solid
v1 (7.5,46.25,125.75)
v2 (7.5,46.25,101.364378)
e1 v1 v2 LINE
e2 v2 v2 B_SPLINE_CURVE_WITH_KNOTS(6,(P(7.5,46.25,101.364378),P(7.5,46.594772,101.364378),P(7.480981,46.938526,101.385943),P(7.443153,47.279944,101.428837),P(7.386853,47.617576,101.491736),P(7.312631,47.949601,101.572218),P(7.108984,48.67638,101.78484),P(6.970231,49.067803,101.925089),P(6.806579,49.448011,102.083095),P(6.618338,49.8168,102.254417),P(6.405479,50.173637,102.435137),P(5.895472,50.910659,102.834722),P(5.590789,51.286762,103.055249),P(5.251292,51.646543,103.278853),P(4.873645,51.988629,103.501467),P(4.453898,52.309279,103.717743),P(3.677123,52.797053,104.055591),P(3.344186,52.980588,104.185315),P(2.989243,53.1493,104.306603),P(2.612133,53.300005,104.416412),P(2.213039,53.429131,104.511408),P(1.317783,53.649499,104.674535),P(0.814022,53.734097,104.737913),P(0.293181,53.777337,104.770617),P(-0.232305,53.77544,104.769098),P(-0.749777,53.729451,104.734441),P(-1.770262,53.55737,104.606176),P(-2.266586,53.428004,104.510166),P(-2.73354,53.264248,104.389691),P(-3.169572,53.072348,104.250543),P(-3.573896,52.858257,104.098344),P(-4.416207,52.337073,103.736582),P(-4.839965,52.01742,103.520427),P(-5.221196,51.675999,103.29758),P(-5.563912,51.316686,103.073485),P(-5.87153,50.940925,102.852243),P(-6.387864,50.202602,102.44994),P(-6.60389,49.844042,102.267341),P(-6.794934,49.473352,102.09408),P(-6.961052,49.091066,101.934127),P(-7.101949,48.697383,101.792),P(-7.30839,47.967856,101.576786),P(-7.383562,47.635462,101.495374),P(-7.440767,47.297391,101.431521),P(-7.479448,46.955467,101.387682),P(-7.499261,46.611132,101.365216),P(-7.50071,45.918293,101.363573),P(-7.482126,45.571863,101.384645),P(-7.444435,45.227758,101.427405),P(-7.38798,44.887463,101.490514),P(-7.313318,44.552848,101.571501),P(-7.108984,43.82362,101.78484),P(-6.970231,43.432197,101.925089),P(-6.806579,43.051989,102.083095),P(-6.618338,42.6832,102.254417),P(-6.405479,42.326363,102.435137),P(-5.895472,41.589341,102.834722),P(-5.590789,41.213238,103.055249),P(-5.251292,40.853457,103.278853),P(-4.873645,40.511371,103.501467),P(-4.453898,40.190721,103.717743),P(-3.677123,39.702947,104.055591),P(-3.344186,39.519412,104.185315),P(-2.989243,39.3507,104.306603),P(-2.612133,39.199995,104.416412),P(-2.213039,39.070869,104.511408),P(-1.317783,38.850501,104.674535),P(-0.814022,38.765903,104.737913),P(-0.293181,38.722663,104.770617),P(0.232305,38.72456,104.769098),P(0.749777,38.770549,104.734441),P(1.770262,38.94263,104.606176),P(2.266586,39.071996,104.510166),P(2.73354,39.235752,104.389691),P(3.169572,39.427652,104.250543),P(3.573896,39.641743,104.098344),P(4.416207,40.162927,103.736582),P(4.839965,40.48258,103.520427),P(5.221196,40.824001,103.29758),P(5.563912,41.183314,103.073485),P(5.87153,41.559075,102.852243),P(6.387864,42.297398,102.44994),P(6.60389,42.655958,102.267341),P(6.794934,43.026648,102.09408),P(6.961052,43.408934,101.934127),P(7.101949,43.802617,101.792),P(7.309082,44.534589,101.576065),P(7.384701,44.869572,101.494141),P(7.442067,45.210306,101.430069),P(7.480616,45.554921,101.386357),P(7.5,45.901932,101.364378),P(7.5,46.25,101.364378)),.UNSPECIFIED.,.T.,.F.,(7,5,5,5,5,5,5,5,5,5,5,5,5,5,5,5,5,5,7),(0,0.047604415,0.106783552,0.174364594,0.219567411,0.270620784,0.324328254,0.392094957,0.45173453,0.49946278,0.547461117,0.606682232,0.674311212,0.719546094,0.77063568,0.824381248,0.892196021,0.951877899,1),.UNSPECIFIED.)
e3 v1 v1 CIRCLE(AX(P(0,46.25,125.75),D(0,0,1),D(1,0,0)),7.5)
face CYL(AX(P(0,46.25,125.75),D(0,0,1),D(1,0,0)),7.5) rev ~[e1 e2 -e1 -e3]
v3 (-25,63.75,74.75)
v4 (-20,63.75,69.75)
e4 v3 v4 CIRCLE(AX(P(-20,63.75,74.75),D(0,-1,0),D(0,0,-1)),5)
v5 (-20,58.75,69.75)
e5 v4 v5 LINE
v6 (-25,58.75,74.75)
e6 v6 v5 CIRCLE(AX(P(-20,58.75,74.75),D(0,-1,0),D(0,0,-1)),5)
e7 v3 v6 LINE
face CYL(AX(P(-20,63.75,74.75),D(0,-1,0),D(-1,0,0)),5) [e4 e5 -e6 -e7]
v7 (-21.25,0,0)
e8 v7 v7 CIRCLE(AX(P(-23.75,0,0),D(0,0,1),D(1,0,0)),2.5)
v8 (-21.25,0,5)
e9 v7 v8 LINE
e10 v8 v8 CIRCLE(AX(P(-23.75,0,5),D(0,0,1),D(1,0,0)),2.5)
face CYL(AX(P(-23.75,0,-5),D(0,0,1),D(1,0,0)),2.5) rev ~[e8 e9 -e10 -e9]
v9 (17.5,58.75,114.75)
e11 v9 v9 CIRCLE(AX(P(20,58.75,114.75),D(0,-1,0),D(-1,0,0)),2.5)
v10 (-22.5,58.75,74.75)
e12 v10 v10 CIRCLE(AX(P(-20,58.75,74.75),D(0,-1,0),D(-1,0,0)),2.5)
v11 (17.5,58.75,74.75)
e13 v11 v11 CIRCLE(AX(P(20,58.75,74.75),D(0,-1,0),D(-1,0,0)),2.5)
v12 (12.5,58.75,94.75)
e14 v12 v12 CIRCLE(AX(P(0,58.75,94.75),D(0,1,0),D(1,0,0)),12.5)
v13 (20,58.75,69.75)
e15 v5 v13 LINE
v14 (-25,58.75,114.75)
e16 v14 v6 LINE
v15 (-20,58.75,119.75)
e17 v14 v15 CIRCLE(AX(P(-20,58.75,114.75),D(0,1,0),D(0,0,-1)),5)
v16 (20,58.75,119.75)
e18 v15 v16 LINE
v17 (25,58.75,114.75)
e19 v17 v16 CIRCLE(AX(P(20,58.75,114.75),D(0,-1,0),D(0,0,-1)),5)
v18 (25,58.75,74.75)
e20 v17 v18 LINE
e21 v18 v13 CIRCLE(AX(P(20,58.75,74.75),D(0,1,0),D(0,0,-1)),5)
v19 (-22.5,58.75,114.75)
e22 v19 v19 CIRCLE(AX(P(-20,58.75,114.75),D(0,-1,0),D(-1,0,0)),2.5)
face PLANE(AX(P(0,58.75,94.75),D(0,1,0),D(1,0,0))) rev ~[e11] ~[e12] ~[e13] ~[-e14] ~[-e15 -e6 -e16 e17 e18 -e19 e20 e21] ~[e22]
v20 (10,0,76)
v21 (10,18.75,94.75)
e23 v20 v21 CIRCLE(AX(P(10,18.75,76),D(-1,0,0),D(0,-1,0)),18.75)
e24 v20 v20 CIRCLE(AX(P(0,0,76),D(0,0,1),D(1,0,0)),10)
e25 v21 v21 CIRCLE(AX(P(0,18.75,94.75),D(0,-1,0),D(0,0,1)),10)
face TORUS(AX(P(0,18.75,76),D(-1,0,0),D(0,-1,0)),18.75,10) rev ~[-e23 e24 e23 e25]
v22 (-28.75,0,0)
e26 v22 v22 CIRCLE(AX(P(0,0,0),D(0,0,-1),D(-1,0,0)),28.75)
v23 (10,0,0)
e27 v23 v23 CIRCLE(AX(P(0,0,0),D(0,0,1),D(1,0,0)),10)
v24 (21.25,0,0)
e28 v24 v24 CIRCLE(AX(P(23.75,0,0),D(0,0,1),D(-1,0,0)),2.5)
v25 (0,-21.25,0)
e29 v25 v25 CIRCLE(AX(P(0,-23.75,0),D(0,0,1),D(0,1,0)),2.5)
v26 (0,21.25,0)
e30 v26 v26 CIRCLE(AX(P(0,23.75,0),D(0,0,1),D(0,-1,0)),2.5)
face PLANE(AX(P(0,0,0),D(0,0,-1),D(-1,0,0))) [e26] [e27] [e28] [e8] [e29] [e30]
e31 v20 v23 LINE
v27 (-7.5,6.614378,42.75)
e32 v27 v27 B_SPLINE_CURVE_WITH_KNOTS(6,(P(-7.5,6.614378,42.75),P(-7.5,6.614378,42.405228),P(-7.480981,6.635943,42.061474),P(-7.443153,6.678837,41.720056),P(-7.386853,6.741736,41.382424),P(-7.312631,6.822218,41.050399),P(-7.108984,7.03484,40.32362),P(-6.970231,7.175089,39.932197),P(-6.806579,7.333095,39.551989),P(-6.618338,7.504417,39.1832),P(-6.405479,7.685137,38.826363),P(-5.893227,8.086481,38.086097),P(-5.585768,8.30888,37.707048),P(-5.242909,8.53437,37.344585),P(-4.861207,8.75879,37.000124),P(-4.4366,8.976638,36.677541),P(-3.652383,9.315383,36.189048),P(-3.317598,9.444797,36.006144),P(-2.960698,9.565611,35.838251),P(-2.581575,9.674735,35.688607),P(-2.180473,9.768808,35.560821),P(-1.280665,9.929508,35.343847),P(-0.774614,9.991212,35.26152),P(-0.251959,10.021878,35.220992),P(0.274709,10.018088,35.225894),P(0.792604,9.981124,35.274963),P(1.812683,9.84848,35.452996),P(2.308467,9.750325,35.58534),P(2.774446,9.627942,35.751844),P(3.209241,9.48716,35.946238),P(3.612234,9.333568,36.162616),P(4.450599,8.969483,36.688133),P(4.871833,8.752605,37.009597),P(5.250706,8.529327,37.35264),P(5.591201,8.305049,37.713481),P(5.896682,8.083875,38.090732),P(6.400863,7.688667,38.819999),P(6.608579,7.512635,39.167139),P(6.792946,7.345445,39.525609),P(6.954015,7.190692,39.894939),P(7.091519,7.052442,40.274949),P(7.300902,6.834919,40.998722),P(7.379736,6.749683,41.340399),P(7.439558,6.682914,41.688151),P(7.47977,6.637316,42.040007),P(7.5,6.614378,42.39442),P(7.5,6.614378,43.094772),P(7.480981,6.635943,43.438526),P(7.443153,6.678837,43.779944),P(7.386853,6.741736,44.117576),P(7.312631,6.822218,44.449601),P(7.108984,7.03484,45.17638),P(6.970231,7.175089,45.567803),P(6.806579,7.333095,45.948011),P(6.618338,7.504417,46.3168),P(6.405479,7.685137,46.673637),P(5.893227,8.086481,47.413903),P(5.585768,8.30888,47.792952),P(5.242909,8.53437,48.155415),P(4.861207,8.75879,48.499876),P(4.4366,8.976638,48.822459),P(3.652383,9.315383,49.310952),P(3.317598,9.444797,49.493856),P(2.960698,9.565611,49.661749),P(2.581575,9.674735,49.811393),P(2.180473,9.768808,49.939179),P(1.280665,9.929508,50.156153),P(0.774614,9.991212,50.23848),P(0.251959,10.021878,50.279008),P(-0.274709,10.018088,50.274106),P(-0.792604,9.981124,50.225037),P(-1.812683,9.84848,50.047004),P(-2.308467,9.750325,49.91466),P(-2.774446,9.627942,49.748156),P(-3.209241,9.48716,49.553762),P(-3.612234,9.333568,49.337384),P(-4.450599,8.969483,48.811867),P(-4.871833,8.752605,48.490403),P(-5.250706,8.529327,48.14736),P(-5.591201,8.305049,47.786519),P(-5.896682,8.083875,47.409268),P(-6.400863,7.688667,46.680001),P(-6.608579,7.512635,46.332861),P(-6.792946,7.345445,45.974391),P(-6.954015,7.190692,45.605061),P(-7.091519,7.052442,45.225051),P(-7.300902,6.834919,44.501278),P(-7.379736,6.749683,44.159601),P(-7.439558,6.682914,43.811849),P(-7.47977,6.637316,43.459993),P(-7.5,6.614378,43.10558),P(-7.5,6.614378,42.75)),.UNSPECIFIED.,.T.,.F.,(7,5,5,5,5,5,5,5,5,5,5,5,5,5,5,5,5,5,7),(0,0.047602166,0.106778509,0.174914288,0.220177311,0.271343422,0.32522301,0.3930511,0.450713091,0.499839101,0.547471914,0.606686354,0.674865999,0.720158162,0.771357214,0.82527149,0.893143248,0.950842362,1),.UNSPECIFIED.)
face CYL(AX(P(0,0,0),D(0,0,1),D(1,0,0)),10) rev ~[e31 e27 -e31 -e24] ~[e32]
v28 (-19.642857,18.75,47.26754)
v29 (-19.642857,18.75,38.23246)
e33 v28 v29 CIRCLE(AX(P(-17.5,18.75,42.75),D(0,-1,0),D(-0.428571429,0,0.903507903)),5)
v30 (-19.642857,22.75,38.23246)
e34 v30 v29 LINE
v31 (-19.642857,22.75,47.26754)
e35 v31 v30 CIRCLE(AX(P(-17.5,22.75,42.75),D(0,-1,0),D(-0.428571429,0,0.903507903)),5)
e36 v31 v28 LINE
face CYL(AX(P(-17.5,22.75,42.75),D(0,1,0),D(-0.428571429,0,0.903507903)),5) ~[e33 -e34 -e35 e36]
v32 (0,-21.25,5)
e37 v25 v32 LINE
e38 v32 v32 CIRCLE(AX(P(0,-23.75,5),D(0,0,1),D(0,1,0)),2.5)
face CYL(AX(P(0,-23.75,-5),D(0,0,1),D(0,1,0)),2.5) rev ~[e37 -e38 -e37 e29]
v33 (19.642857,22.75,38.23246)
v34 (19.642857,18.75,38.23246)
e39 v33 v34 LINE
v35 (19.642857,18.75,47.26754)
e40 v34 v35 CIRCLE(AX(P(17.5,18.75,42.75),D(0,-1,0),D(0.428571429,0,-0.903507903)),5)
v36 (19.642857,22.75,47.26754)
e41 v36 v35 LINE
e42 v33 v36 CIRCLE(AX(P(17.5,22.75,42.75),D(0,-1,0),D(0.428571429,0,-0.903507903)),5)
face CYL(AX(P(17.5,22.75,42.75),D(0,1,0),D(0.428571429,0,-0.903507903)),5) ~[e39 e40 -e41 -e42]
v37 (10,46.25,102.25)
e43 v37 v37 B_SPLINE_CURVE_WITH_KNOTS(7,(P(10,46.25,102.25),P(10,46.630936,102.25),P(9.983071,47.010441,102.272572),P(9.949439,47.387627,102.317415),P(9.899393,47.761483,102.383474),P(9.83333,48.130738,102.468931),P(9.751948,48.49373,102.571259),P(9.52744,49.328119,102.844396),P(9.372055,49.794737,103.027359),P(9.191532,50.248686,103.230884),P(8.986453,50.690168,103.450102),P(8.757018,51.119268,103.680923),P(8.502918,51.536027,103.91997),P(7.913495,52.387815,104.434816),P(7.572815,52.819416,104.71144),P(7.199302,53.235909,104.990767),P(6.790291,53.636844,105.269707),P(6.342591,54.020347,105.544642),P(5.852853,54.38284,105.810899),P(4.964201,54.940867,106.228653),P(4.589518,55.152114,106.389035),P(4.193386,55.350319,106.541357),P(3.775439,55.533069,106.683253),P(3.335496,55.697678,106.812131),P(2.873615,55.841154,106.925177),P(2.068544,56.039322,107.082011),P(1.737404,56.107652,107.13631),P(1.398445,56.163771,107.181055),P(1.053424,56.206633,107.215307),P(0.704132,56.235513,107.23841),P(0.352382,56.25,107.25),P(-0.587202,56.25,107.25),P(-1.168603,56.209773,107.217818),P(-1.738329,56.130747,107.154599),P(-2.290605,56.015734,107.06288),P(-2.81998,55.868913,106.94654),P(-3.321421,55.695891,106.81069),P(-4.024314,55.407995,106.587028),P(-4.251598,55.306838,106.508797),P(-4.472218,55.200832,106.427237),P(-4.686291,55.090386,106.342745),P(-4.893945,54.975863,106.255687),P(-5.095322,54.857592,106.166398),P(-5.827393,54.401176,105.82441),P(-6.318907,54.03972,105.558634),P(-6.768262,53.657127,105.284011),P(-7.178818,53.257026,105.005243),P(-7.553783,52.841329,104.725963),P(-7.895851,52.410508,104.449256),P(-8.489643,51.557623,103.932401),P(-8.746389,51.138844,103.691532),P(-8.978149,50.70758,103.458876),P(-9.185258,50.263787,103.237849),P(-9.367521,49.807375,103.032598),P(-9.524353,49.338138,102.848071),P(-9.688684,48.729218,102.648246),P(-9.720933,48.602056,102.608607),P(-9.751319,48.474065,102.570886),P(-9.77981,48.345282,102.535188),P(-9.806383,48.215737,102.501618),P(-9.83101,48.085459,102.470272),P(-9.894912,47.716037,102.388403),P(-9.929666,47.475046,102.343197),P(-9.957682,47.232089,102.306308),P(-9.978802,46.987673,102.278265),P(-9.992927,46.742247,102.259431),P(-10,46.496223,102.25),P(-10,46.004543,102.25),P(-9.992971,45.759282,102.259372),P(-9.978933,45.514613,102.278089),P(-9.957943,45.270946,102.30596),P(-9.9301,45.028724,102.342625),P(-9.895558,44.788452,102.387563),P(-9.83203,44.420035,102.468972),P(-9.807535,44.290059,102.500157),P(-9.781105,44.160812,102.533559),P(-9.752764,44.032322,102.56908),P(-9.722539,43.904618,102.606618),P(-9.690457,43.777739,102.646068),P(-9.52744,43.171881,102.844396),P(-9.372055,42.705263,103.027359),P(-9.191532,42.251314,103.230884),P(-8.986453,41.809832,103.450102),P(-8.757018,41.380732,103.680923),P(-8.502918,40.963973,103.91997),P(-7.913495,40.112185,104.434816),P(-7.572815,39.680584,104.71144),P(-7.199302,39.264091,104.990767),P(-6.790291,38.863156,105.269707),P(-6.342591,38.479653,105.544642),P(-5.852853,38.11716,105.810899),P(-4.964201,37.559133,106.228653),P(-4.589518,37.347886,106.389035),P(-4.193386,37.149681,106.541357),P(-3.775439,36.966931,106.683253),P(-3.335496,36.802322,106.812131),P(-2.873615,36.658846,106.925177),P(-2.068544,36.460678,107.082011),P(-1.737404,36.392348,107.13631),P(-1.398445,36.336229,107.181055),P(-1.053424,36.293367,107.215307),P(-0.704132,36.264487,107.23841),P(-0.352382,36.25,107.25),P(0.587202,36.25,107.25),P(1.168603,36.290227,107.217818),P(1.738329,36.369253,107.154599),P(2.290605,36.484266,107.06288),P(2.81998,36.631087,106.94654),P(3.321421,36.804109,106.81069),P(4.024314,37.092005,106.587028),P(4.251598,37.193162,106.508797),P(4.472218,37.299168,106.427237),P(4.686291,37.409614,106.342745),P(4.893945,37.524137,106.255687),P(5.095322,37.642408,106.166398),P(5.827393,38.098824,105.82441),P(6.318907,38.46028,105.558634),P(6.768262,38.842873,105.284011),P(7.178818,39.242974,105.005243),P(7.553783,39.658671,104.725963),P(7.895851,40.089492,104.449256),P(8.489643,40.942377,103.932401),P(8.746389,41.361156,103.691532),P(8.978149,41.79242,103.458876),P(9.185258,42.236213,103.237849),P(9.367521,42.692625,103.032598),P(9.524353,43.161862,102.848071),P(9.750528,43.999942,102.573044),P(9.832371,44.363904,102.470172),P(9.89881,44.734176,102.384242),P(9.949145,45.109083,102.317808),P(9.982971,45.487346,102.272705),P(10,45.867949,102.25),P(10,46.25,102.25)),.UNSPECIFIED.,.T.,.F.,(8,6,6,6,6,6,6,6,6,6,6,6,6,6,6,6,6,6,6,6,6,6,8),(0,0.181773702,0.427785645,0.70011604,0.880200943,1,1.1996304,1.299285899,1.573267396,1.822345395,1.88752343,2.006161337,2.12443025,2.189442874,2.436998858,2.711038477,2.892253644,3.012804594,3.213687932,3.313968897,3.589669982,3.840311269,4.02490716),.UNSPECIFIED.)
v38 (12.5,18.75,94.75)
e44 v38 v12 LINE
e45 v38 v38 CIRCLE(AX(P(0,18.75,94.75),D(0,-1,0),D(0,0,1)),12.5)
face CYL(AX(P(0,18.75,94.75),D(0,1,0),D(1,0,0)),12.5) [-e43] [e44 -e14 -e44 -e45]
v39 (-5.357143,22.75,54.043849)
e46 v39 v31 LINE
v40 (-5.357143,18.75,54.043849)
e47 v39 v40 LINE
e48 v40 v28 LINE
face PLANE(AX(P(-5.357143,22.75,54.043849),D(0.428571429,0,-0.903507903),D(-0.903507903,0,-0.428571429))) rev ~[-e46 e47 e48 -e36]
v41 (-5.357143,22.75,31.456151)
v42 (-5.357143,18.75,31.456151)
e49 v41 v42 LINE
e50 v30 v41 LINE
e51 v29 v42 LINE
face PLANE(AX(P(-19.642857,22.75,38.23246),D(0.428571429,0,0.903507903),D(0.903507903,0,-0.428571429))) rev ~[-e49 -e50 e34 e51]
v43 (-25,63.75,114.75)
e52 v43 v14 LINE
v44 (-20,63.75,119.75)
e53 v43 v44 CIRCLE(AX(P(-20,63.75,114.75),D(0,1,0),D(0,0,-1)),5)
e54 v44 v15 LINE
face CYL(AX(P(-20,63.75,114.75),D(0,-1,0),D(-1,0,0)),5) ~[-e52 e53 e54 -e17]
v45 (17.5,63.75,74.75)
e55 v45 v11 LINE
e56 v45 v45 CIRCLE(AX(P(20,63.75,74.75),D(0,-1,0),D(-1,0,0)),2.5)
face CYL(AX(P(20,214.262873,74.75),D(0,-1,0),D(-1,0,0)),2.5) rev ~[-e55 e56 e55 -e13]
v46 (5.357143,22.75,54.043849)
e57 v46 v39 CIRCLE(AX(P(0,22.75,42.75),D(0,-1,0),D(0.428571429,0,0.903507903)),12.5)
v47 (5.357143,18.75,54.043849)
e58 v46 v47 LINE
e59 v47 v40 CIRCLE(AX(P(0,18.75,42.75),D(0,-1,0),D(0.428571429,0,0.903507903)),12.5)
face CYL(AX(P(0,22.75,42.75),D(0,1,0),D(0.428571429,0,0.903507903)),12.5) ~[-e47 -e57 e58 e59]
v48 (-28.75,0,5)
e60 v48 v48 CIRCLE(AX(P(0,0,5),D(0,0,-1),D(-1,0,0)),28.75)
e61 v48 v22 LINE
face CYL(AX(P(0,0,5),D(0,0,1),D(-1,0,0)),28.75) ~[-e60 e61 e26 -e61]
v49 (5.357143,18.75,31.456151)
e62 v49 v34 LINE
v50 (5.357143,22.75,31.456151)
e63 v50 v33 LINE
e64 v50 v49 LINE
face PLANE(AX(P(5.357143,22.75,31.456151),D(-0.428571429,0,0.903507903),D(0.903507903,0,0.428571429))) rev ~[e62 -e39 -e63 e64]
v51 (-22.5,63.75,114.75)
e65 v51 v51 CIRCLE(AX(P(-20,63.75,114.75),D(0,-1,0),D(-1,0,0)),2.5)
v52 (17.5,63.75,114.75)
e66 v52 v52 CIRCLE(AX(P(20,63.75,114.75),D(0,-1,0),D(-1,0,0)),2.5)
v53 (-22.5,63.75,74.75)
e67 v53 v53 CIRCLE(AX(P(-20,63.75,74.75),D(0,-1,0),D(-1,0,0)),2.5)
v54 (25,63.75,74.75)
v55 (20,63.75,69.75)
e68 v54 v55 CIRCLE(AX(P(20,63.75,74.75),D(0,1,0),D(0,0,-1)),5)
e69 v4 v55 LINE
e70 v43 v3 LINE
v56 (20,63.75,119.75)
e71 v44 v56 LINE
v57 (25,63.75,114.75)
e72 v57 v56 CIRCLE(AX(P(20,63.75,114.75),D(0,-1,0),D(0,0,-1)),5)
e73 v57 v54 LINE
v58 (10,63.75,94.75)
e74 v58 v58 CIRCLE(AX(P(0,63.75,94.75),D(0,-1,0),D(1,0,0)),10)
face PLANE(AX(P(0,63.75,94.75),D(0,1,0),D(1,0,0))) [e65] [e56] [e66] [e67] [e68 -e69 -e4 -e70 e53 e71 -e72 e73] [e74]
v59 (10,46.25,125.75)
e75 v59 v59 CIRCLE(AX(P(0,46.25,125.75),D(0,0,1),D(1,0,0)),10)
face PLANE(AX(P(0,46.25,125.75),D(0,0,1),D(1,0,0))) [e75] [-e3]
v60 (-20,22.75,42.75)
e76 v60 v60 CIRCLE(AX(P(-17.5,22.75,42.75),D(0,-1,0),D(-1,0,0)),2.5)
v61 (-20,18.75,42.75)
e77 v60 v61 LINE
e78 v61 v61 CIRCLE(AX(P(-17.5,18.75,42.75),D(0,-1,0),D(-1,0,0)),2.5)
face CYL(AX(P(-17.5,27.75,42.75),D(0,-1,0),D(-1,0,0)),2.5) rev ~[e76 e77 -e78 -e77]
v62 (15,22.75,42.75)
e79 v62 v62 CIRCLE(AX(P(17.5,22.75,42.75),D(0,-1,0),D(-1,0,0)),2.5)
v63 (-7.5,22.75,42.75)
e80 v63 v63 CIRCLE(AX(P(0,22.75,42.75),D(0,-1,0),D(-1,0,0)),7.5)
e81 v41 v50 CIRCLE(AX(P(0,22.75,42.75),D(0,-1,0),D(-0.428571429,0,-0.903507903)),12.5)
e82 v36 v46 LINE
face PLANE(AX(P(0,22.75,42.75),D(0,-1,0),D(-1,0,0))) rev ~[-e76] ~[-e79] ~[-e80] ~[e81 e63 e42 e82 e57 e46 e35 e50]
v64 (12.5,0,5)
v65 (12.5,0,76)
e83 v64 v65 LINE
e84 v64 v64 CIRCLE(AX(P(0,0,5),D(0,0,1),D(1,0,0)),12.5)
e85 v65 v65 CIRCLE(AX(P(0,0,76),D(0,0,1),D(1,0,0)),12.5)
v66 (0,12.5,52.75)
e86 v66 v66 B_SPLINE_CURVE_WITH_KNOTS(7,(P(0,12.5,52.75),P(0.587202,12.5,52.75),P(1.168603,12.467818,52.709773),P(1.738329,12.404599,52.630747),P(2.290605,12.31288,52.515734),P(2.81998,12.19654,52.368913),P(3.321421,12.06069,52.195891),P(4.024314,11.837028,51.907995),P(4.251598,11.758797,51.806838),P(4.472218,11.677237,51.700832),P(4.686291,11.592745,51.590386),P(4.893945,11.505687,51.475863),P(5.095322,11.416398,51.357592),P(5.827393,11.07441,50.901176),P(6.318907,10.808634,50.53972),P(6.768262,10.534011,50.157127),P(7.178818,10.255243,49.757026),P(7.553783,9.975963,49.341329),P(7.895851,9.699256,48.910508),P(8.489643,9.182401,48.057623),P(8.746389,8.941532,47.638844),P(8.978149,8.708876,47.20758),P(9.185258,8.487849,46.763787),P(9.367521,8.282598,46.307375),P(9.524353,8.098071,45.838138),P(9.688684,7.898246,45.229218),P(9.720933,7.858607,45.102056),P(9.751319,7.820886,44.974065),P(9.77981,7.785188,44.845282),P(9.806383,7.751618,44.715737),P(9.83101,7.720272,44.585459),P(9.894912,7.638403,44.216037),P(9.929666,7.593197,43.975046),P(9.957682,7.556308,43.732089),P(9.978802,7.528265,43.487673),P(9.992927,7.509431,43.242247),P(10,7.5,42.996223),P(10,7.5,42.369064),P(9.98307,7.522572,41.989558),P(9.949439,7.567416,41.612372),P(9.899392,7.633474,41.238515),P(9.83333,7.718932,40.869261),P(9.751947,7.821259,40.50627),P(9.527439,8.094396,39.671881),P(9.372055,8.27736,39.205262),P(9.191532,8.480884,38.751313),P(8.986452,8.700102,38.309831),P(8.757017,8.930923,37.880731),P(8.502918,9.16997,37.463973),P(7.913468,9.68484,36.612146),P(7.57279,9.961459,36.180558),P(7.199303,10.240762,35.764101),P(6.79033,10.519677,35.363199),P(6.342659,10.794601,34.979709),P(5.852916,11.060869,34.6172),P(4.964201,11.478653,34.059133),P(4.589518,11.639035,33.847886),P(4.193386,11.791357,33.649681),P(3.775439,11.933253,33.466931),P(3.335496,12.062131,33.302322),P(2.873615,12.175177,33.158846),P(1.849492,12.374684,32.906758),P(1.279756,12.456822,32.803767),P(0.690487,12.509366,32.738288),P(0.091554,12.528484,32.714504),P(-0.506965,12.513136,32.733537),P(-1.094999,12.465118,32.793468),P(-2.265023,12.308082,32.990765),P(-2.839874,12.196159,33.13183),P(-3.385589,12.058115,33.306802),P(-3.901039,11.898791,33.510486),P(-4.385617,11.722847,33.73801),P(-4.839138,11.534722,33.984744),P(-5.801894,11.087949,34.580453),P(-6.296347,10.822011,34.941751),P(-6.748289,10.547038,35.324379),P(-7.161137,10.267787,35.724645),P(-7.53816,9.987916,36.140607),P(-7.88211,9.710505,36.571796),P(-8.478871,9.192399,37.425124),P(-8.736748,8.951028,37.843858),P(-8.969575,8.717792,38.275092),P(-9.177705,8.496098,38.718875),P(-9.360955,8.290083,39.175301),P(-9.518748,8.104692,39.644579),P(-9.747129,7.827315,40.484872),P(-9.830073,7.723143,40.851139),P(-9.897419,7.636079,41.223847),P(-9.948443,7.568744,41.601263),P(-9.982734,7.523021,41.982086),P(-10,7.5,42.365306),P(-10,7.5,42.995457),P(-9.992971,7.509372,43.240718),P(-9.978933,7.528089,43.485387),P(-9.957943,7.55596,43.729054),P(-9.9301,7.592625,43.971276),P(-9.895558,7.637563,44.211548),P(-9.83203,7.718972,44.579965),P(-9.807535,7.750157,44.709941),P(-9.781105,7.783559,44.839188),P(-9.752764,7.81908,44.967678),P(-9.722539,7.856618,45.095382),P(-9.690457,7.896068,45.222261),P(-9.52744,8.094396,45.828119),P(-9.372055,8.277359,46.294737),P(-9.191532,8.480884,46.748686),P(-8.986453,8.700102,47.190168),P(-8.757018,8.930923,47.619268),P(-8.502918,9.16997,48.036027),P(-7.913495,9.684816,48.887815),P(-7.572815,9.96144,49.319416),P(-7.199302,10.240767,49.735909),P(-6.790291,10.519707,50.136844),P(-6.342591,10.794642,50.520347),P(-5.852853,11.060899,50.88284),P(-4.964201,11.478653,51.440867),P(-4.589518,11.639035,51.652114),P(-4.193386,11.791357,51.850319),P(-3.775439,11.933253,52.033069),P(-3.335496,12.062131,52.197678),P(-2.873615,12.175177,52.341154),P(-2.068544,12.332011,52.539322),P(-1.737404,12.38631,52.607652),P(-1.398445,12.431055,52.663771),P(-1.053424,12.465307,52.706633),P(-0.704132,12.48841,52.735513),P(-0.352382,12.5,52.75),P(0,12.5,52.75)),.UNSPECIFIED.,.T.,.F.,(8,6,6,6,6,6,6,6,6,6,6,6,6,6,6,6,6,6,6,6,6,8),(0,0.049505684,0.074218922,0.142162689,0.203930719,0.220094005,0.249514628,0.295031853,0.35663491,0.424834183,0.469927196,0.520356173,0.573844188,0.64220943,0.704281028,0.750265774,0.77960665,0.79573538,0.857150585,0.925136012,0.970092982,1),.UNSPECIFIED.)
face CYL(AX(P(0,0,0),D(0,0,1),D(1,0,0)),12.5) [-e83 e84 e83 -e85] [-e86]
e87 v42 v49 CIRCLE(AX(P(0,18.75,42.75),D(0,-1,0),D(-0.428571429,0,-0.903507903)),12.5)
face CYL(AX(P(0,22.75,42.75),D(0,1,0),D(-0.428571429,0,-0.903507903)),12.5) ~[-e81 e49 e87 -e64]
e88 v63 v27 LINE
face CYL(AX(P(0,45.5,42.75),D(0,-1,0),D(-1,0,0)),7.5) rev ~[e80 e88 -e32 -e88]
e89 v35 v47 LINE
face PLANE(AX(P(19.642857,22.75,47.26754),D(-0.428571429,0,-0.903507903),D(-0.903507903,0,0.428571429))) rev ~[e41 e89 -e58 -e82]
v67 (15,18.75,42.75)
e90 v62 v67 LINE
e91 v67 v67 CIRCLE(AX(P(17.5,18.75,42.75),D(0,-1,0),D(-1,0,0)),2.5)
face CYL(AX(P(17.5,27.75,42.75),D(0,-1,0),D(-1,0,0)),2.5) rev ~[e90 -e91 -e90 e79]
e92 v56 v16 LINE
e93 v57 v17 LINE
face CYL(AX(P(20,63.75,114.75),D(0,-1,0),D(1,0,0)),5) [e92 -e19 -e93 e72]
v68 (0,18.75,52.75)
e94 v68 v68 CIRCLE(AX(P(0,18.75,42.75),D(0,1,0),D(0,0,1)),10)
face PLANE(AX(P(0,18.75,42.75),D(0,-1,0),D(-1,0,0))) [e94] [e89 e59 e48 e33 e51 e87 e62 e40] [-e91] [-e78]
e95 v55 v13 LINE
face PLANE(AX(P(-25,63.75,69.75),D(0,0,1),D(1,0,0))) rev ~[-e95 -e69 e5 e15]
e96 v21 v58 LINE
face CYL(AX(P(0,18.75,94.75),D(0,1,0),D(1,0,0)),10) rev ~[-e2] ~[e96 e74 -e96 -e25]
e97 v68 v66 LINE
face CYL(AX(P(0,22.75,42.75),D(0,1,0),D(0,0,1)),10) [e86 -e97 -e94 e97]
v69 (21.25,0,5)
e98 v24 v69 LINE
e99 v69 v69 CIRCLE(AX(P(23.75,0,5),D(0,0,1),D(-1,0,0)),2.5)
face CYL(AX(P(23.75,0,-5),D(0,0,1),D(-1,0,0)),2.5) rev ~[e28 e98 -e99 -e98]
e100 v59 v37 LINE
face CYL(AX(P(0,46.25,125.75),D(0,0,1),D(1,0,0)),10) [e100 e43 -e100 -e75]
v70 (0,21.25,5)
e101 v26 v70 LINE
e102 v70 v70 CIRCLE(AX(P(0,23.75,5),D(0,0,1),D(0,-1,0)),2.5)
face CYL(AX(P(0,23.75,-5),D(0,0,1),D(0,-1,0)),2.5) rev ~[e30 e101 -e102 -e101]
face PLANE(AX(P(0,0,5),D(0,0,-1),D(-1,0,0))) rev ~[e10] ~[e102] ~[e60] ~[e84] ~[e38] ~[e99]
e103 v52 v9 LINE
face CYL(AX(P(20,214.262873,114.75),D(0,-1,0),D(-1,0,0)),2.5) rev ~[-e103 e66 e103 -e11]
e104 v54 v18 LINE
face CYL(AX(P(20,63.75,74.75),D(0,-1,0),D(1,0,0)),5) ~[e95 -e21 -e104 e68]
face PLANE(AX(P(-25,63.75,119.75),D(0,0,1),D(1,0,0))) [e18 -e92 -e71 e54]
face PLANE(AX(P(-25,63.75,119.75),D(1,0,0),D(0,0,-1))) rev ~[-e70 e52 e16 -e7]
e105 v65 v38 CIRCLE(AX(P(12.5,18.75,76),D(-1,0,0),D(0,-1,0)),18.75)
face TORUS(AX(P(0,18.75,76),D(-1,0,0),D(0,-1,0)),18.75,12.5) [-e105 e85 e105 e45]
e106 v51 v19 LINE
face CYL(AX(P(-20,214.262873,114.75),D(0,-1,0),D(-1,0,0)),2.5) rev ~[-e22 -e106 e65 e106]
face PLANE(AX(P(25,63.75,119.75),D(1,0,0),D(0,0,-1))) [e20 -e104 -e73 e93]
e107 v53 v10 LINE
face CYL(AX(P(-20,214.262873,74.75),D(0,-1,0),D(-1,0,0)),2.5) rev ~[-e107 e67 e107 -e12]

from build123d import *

# Parameters (mm, degrees)
SKETCH1_R                 = 12.5
SKETCH1_R_2               = 10
SKETCH9_W                 = 50
SKETCH9_H                 = 50
SKETCH9_R                 = 10
BOSS_EXTRUDE5_DEPTH       = 5
FILLET1_R                 = 5
HOLE1_D                   = 5
BOSS_EXTRUDE7_START       = -5
SKETCH15_R                = 28.75
SKETCH15_R_2              = 10
BOSS_EXTRUDE7_DEPTH       = 5
HOLE2_D                   = 5
HOLE2_DEPTH               = 5
CIRPATTERN2_COUNT         = 4
BOSS_EXTRUDE8_REACH       = 135.487
BOSS_EXTRUDE8_END_RADIUS  = 12.5
SKETCH20_R                = 10
BOSS_EXTRUDE9_DEPTH       = 4
HOLE3_D                   = 5
HOLE3_DEPTH               = 5
HOLE5_D                   = 15
HOLE5_DEPTH               = 22.75
BOSS_EXTRUDE10_REACH      = 145.888
BOSS_EXTRUDE10_END_RADIUS = 12.5
SKETCH32_R                = 10
HOLE6_REACH               = 145.888
HOLE6_BORE_R              = 7.5


with BuildPart() as part:
    # Sweep1: sweep along a path in Sketch3
    with BuildLine(Plane(origin=(0, 0, 0), x_dir=(0, 0, -1), z_dir=(1, 0, 0))) as sweep1_path:
        Line((0, 0), (-76, 0))
        ThreePointArc((-76, 0), (-89.258252147, 5.491747853), (-94.75, 18.75))
        Line((-94.75, 18.75), (-94.75, 63.75))
    # Sketch1 → Sweep1 (sweep)
    with BuildSketch(Plane.XY):
        Circle(SKETCH1_R)
        Circle(SKETCH1_R_2, mode=Mode.SUBTRACT)
    sweep(path=sweep1_path.line)

    # Sketch9 → Boss-Extrude5 (add)
    with BuildSketch(Plane(origin=(0, 63.75, 0), x_dir=(1, 0, 0), z_dir=(0, 1, 0))):
        with Locations((0, -94.75)):
            Rectangle(SKETCH9_W, SKETCH9_H)
        with Locations(Location((0, -94.75, 0), (0, 0, 270))):
            Circle(SKETCH9_R, mode=Mode.SUBTRACT)
    extrude(amount=-BOSS_EXTRUDE5_DEPTH)

    # Fillet1
    fillet1_edges = [part.edges().sort_by_distance(p)[0] for p in [
        (25, 61.25, 69.75),
        (25, 61.25, 119.75),
        (-25, 61.25, 119.75),
        (-25, 61.25, 69.75),
    ]]
    fillet(fillet1_edges, radius=FILLET1_R)

    # Hole1 (through all)
    with Locations(Plane(origin=(0, 63.75, 0), x_dir=(1, 0, 0), z_dir=(0, 1, 0))):
        with Locations((-20, -74.75), (20, -74.75), (20, -114.75), (-20, -114.75)):
            Hole(HOLE1_D / 2)

    # Sketch15 → Boss-Extrude7 (add)
    with BuildSketch(Plane(origin=(0, 0, 0), x_dir=(-1, 0, 0), z_dir=(0, 0, -1)).offset(BOSS_EXTRUDE7_START)):
        Circle(SKETCH15_R)
        with Locations(Location((0, 0, 0), (0, 0, 180))):
            Circle(SKETCH15_R_2, mode=Mode.SUBTRACT)
    extrude(amount=BOSS_EXTRUDE7_DEPTH)

    # Hole2
    with Locations(Plane(origin=(0, 0, 0), x_dir=(-1, 0, 0), z_dir=(0, 0, -1))):
        with Locations((23.75, 0)):
            hole2 = Hole(HOLE2_D / 2, depth=HOLE2_DEPTH)

    # CirPattern2: Hole2 ×4 about axis
    cirpattern2_axis = Axis((0, 0, 0), (0, 0, 1))
    for i in range(1, CIRPATTERN2_COUNT):
        add(hole2.rotate(cirpattern2_axis, i * 360 / CIRPATTERN2_COUNT), mode=Mode.SUBTRACT)

    # Boss-Extrude8: up to this cylinder (the profile starts outside it)
    boss_extrude8_end = Plane(origin=(0, 0, 42.75), z_dir=(0, 0, 1)) * Cylinder(BOSS_EXTRUDE8_END_RADIUS, 296.974, mode=Mode.PRIVATE)
    # Sketch20 → Boss-Extrude8 (add, up to the surface)
    with BuildSketch(Plane(origin=(0, 22.75, 0), x_dir=(1, 0, 0), z_dir=(0, 1, 0)), mode=Mode.PRIVATE) as boss_extrude8_sk1:
        with Locations(Location((0, -42.75, 0), (0, 0, 270))):
            Circle(SKETCH20_R)
    boss_extrude8_tool1 = extrude(boss_extrude8_sk1.sketch, amount=-BOSS_EXTRUDE8_REACH, mode=Mode.PRIVATE) - boss_extrude8_end
    add(boss_extrude8_tool1.solids().sort_by_distance((0, 22.75, 42.75))[0])

    # Sketch21 → Boss-Extrude9 (add)
    with BuildSketch(Plane(origin=(0, 22.75, 0), x_dir=(1, 0, 0), z_dir=(0, 1, 0))):
        with BuildLine():
            Line((5.357142857, -31.456151214), (19.642857143, -38.232460485))
            ThreePointArc((19.642857143, -38.232460485), (22.5, -42.75), (19.642857143, -47.267539515))
            Line((19.642857143, -47.267539515), (5.357142857, -54.043848786))
            ThreePointArc((5.357142857, -54.043848786), (0, -55.25), (-5.357142857, -54.043848786))
            Line((-5.357142857, -54.043848786), (-19.642857143, -47.267539515))
            ThreePointArc((-19.642857143, -47.267539515), (-22.5, -42.75), (-19.642857143, -38.232460485))
            Line((-19.642857143, -38.232460485), (-5.357142857, -31.456151214))
            ThreePointArc((-5.357142857, -31.456151214), (0, -30.25), (5.357142857, -31.456151214))
        make_face()
    extrude(amount=-BOSS_EXTRUDE9_DEPTH)

    # Hole3
    with Locations(Plane(origin=(0, 22.75, 0), x_dir=(1, 0, 0), z_dir=(0, 1, 0))):
        with Locations((-17.5, -42.75), (17.5, -42.75)):
            Hole(HOLE3_D / 2, depth=HOLE3_DEPTH)

    # Hole5
    with Locations(Plane(origin=(0, 22.75, 0), x_dir=(1, 0, 0), z_dir=(0, 1, 0))):
        with Locations((0, -42.75)):
            Hole(HOLE5_D / 2, depth=HOLE5_DEPTH)

    # Boss-Extrude10: up to this cylinder (the profile starts outside it)
    boss_extrude10_end = Plane(origin=(0, 46.25, 94.75), z_dir=(0, 1, 0)) * Cylinder(BOSS_EXTRUDE10_END_RADIUS, 317.776, mode=Mode.PRIVATE)
    # Sketch32 → Boss-Extrude10 (add, up to the surface)
    with BuildSketch(Plane.XY.offset(125.75), mode=Mode.PRIVATE) as boss_extrude10_sk1:
        with Locations((0, 46.25)):
            Circle(SKETCH32_R)
    boss_extrude10_tool1 = extrude(boss_extrude10_sk1.sketch, amount=-BOSS_EXTRUDE10_REACH, mode=Mode.PRIVATE) - boss_extrude10_end
    add(boss_extrude10_tool1.solids().sort_by_distance((0, 46.25, 125.75))[0])

    # Hole6 bore → Hole6 (cut, up to next)
    with BuildSketch(Plane.XY.offset(125.75), mode=Mode.PRIVATE) as hole6_sk1:
        with Locations((0, 46.25)):
            Circle(HOLE6_BORE_R)
    hole6_tool1 = extrude(hole6_sk1.sketch, amount=-HOLE6_REACH, mode=Mode.PRIVATE) & part.part
    add(hole6_tool1.solids().sort_by_distance((0, 46.25, 125.75))[0], mode=Mode.SUBTRACT)


solid = part.part
